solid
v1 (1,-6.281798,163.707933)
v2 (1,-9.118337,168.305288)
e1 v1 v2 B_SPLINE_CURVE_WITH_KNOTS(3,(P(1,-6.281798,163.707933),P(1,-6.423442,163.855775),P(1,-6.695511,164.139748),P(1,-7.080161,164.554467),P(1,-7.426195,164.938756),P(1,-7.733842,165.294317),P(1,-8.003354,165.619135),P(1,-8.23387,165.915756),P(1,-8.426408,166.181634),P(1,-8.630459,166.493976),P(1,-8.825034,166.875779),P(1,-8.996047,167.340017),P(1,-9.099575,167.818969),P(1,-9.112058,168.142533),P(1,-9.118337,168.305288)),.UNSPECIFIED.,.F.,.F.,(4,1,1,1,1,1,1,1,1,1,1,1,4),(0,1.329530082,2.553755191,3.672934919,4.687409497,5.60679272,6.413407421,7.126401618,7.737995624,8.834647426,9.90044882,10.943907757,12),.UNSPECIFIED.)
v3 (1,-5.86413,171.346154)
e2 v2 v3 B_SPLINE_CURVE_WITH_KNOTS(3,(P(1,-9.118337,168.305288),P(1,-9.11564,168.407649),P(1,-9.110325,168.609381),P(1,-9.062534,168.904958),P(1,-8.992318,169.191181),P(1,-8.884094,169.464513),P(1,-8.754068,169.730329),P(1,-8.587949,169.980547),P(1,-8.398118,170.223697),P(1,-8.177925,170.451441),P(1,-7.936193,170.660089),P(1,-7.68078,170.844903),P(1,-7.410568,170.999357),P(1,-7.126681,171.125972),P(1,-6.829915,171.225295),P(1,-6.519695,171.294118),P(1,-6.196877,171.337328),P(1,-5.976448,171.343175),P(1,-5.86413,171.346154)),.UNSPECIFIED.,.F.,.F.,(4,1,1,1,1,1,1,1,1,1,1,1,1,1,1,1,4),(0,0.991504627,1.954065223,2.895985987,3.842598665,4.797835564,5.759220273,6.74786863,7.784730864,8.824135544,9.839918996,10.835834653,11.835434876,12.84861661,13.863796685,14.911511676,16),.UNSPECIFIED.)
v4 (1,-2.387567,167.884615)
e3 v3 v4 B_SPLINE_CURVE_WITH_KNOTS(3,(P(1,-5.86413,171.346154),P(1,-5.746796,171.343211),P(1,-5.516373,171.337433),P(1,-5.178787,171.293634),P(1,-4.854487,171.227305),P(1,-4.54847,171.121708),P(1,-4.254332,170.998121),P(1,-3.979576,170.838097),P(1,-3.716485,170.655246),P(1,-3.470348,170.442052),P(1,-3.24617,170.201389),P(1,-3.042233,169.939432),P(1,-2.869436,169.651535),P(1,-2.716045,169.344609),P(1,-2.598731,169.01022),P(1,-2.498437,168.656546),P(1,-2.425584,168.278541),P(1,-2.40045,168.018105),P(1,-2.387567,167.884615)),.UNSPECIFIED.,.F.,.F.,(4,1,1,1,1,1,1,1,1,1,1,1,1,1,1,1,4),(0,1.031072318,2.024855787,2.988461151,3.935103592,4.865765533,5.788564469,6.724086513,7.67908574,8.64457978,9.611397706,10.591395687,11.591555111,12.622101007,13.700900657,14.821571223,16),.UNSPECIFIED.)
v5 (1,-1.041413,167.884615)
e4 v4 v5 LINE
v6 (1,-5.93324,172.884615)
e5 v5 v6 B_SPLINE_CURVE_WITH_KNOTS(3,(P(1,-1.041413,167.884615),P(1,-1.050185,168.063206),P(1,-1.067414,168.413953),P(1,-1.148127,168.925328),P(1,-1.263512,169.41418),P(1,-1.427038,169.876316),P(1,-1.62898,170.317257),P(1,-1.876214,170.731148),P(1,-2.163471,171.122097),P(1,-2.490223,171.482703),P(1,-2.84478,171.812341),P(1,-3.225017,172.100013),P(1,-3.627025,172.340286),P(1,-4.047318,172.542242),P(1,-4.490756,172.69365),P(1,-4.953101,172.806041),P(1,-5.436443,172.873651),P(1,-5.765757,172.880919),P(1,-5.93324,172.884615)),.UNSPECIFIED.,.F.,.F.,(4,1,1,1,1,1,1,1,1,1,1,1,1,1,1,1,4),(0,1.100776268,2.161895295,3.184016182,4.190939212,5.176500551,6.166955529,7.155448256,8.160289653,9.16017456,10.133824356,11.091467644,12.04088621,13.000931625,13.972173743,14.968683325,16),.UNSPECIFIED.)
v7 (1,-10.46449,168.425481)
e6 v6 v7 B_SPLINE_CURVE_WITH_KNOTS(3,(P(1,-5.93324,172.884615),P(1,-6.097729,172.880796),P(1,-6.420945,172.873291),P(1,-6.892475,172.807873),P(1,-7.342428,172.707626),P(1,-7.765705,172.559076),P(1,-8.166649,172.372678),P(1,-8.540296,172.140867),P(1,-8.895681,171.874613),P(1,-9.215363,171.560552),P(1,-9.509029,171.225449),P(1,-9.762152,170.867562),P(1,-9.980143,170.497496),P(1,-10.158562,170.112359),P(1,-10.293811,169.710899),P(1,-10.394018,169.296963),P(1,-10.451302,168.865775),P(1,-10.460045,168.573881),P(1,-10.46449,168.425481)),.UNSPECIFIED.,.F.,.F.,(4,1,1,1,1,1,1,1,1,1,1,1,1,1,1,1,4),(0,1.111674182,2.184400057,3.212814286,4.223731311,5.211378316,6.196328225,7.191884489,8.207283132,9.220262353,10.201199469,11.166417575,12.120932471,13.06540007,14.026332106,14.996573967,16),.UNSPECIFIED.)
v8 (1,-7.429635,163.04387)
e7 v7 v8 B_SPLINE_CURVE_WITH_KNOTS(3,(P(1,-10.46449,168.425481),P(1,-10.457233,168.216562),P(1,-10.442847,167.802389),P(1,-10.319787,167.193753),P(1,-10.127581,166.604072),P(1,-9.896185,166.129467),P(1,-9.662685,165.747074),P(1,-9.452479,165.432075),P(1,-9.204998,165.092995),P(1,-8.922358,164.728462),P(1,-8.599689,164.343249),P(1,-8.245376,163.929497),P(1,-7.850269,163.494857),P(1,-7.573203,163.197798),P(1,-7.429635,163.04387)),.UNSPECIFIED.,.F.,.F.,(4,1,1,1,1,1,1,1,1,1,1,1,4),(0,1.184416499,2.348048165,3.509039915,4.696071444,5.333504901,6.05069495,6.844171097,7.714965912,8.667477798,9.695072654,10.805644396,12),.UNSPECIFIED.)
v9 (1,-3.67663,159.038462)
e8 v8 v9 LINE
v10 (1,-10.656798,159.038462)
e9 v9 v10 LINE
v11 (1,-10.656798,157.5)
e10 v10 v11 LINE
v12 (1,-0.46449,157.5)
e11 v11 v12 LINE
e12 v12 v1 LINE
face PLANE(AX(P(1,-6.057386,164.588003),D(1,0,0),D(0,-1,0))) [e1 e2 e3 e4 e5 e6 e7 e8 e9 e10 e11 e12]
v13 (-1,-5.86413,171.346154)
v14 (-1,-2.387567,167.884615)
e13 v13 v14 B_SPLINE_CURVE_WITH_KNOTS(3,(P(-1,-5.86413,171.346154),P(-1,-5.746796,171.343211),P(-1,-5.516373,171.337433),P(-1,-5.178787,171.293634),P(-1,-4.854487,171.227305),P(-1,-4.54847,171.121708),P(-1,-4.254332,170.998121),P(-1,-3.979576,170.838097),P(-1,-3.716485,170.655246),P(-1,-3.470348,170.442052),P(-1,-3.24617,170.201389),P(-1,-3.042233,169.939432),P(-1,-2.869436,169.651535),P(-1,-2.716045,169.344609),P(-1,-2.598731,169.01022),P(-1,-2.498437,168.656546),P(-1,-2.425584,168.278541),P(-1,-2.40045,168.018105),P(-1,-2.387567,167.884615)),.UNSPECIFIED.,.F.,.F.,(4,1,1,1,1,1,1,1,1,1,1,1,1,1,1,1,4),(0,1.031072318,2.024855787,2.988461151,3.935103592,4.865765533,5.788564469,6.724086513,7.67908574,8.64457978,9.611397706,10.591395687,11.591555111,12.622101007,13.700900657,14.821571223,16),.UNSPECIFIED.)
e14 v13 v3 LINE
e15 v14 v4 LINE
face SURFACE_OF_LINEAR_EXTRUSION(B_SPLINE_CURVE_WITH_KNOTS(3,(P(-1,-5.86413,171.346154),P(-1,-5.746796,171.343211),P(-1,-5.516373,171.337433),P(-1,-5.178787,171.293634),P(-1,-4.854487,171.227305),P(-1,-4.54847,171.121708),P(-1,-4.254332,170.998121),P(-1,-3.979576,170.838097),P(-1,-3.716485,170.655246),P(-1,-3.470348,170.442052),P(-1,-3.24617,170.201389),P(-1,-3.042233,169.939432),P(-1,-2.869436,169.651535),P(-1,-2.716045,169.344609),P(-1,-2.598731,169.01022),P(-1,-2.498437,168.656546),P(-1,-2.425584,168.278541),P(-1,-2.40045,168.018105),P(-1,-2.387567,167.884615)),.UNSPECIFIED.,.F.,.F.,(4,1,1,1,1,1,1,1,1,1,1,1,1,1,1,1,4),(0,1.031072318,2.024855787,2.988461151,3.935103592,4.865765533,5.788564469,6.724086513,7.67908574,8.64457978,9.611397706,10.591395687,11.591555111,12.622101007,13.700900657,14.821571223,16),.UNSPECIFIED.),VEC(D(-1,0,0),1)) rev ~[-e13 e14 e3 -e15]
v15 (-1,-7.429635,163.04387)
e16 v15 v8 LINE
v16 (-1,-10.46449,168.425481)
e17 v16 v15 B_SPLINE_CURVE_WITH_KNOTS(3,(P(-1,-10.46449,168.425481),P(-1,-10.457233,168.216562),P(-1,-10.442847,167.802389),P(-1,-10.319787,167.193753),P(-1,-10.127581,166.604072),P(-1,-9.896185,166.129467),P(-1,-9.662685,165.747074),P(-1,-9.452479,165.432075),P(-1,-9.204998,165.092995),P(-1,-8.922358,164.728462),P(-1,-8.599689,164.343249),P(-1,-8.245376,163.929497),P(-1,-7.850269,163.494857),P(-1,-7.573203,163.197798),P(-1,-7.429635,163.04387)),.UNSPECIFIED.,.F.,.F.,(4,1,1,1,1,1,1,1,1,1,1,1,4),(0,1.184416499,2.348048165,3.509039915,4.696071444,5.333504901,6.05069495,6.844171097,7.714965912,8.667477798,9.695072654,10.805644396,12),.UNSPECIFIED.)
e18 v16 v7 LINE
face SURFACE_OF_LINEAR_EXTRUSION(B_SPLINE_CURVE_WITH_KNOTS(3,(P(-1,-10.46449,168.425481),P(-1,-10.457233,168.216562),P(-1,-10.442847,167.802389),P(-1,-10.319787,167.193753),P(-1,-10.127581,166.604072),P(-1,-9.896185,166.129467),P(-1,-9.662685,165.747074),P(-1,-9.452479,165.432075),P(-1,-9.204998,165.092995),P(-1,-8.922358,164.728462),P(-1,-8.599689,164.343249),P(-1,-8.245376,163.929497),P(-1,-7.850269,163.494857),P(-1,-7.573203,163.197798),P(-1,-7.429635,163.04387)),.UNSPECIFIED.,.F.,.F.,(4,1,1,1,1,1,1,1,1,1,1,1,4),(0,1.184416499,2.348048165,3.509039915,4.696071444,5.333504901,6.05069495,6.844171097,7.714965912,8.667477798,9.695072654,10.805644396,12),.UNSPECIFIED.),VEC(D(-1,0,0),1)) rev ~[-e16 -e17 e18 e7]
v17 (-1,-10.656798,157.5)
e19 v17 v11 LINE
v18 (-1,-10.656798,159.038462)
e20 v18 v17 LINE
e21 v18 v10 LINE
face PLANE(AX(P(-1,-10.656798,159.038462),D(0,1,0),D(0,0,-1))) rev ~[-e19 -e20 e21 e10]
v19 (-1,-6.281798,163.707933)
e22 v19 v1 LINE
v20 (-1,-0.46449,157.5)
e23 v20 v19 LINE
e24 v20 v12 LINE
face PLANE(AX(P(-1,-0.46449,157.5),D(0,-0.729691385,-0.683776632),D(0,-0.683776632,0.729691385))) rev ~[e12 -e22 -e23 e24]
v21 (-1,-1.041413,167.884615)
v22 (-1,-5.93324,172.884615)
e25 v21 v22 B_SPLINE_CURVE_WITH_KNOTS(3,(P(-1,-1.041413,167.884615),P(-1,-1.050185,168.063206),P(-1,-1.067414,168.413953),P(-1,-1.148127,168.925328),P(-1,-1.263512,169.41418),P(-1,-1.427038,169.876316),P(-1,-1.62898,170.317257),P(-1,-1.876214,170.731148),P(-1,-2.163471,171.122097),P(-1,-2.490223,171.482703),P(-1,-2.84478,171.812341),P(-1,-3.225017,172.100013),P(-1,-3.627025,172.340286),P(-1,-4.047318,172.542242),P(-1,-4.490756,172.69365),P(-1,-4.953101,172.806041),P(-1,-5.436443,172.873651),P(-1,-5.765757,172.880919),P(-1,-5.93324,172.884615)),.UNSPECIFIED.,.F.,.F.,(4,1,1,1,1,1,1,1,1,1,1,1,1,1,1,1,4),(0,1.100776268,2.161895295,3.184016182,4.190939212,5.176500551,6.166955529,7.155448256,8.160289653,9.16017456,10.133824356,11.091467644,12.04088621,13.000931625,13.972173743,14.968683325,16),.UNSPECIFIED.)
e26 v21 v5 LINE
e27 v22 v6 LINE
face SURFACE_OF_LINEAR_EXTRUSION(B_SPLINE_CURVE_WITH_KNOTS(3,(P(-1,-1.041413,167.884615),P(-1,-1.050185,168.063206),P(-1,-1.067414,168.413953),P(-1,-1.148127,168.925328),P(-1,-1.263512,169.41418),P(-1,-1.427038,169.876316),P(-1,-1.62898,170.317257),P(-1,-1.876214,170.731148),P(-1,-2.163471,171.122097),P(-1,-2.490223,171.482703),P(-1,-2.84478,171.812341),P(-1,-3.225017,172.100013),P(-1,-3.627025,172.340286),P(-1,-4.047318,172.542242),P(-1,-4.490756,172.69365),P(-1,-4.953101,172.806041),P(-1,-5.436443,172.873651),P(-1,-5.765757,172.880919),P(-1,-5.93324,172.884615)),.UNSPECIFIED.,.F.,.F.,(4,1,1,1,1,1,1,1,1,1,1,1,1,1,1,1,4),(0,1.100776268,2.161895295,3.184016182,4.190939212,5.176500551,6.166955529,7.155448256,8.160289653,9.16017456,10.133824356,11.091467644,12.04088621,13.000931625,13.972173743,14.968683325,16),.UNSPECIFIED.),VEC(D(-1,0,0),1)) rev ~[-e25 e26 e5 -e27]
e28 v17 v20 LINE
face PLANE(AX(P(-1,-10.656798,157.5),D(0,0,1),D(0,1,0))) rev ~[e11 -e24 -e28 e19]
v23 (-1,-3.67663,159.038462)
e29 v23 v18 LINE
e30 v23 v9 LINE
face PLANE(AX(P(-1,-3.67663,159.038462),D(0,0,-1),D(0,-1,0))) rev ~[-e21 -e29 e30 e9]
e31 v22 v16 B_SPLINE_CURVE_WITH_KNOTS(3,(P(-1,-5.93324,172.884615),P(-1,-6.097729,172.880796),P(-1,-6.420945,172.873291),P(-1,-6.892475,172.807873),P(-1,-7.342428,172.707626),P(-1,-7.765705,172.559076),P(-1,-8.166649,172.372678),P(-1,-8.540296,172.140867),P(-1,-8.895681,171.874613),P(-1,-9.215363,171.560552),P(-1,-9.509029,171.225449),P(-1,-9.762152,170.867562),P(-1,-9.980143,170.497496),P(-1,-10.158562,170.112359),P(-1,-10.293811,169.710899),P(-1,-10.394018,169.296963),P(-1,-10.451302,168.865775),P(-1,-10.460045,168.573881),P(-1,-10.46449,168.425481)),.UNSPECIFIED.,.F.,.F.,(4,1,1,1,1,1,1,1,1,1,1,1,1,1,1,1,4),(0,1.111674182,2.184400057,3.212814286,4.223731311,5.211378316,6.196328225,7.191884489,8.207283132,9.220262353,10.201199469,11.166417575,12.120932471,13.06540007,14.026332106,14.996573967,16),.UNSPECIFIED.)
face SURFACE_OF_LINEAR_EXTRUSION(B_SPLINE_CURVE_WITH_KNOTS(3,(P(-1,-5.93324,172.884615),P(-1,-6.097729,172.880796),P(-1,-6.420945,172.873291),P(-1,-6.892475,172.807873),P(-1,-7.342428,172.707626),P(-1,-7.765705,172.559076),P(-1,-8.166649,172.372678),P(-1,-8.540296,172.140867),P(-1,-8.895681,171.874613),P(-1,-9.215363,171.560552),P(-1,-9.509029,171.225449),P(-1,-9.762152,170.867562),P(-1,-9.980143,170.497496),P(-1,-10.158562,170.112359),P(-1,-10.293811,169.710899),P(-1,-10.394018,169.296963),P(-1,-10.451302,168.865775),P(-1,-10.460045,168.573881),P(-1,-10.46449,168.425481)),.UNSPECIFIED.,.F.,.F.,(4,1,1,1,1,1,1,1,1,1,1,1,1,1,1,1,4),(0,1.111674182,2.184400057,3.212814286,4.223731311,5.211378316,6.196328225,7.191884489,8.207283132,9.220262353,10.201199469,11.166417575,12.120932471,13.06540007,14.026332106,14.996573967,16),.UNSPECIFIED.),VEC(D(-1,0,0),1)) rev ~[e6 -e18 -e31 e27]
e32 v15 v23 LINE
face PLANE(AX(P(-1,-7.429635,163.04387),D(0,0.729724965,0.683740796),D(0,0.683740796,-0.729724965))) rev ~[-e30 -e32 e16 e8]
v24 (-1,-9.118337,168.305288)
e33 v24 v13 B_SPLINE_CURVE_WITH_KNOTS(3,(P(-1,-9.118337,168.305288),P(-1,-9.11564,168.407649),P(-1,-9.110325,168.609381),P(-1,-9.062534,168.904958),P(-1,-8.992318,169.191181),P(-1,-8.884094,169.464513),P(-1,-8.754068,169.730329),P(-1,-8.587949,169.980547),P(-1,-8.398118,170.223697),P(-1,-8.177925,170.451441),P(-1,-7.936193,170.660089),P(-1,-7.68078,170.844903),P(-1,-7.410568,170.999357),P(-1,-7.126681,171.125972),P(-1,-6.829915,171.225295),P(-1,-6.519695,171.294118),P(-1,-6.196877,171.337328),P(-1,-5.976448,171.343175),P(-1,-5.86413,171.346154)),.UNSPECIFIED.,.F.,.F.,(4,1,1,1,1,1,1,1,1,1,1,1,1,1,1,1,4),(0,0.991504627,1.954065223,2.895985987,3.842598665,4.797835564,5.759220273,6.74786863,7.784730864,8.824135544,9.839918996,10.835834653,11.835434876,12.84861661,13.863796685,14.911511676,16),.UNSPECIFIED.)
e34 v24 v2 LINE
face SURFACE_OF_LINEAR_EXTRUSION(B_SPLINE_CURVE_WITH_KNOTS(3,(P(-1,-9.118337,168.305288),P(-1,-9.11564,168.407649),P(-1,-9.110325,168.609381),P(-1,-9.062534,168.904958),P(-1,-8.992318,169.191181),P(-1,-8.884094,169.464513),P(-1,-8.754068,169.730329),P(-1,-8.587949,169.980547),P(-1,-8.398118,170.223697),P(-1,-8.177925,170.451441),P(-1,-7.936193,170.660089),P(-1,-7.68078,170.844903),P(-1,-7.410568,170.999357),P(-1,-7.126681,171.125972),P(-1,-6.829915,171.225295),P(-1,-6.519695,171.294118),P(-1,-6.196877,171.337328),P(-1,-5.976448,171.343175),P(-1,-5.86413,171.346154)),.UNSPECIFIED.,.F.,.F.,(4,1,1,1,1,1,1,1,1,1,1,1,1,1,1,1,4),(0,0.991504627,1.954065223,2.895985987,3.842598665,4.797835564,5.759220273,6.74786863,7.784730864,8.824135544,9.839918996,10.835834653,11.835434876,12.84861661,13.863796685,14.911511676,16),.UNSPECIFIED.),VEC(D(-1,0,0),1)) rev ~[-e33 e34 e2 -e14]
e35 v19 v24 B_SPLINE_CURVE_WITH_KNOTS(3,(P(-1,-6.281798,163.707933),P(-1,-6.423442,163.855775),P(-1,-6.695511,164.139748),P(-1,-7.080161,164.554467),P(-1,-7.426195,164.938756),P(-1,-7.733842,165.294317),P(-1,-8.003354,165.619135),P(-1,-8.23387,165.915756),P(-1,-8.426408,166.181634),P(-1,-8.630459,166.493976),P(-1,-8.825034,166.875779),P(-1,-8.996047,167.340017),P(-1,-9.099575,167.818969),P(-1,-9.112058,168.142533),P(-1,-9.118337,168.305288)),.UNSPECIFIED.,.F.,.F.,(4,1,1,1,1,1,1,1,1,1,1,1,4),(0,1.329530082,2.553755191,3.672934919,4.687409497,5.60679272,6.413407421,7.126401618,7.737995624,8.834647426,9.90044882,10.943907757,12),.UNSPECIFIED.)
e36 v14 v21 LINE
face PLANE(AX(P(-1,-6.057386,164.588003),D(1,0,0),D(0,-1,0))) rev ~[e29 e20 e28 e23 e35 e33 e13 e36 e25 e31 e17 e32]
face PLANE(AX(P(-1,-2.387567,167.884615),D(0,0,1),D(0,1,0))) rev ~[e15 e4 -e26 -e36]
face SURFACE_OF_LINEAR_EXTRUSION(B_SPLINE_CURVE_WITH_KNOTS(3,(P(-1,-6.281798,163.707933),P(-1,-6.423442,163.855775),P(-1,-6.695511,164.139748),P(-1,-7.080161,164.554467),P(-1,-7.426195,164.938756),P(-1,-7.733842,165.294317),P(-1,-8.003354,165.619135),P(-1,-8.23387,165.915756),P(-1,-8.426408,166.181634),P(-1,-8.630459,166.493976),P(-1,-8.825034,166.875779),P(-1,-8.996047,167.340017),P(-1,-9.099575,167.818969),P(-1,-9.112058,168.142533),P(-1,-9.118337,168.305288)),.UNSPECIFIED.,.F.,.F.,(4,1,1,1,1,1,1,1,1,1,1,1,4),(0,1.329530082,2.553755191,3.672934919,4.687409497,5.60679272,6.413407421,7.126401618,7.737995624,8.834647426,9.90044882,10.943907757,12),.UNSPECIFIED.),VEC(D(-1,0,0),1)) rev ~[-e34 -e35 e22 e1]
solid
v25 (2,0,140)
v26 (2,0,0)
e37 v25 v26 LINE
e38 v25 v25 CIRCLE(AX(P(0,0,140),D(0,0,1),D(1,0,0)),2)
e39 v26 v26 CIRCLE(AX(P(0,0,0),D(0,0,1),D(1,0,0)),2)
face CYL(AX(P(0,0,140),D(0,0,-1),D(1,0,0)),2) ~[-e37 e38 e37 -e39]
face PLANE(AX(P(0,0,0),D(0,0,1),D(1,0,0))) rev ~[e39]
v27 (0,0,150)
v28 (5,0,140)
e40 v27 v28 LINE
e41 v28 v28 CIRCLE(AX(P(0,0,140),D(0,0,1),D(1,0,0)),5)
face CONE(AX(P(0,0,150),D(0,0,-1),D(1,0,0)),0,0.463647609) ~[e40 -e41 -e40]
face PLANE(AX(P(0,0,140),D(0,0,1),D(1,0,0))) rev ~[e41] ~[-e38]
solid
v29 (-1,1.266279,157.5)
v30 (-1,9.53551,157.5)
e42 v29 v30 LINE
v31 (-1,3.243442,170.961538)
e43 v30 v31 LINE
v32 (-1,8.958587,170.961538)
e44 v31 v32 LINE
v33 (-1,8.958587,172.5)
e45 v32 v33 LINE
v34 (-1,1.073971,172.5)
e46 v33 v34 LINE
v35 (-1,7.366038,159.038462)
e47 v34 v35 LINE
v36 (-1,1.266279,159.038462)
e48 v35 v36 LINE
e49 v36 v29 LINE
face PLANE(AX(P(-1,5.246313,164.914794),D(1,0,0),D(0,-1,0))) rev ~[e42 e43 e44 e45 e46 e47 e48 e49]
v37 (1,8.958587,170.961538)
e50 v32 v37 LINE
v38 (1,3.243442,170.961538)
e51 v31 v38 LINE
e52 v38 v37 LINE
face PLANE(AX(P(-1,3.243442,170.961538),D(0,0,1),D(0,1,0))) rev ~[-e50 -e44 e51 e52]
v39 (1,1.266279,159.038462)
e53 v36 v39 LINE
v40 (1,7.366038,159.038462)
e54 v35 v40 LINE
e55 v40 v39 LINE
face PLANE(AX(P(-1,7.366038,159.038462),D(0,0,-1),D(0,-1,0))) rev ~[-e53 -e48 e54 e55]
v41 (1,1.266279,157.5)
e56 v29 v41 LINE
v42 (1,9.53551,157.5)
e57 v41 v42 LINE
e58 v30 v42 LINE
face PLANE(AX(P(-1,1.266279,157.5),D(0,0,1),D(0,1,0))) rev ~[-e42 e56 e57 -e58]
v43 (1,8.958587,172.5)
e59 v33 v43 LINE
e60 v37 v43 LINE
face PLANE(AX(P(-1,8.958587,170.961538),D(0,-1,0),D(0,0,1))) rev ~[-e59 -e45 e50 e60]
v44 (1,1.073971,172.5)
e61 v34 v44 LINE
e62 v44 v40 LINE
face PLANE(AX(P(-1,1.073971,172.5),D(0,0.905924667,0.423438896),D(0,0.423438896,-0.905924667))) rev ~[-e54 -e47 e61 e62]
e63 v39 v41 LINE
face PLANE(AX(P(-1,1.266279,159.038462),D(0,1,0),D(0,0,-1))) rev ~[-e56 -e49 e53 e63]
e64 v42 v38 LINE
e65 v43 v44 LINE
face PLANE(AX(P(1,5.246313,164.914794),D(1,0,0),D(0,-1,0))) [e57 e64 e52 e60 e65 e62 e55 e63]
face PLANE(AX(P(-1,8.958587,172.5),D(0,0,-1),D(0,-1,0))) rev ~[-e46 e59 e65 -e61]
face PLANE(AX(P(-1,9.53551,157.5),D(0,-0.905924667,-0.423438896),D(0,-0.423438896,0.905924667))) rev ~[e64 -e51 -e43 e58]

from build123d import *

# Parameters (mm, degrees)
BOSS_EXTRUDE1_DEPTH        = 1
BOSS_EXTRUDE1_DEPTH_BACK   = 1
BOSS_EXTRUDE1_2_DEPTH      = 1
BOSS_EXTRUDE1_2_DEPTH_BACK = 1


with BuildPart() as part:
    # Sketch2 → Revolve1 (revolve)
    with BuildSketch(Plane(origin=(0, 0, 0), x_dir=(1, 0, 0), z_dir=(0, 1, 0))):
        Polygon((0, -150), (5, -140), (2, -140), (2, 0), (0, 0), align=None)
    revolve(axis=Axis((0, 0, -41.949952025), (0, 0, 1)))


with BuildPart() as body_2:
    # Sketch3 → Boss-Extrude1 (new, two sides: drawn at the far end of the back side and taken through both)
    with BuildSketch(Plane(origin=(0, 0, 0), x_dir=(0, -1, 0), z_dir=(1, 0, 0)).offset(-BOSS_EXTRUDE1_DEPTH_BACK)):
        Polygon((-8.958586521, -170.961538462), (-8.958586521, -172.5), (-1.073971137, -172.5), (-7.366038444, -159.038461538), (-1.266278829, -159.038461538), (-1.266278829, -157.5), (-9.535509598, -157.5), (-3.243442291, -170.961538462), align=None)
    extrude(amount=BOSS_EXTRUDE1_DEPTH + BOSS_EXTRUDE1_DEPTH_BACK)


with BuildPart() as body_3:
    # Sketch3 → Boss-Extrude1 2 (new, two sides: drawn at the far end of the back side and taken through both)
    with BuildSketch(Plane(origin=(0, 0, 0), x_dir=(0, -1, 0), z_dir=(1, 0, 0)).offset(-BOSS_EXTRUDE1_2_DEPTH_BACK)):
        with BuildLine():
            Line((2.387567325, -167.884615385), (1.041413479, -167.884615385))
            add(Edge.make_bspline(
                [(1.041413479, -167.884615385), (1.050185498, -168.063205784), (1.067413511, -168.413952575), (1.14812731, -168.925328289), (1.263511735, -169.414179653), (1.427038382, -169.876315664), (1.628979502, -170.317256926), (1.876213873, -170.731148249), (2.163470857, -171.122097454), (2.490223471, -171.482702577), (2.844780172, -171.812340745), (3.225016614, -172.100012522), (3.627024685, -172.340286171), (4.047317539, -172.542241714), (4.490755987, -172.693649809), (4.953101254, -172.806041475), (5.436443094, -172.873650782), (5.765757104, -172.880918932), (5.933240402, -172.884615385)],
                knots=[0, 0, 0, 0, 1.100776268, 2.161895295, 3.184016182, 4.190939212, 5.176500551, 6.166955529, 7.155448256, 8.160289653, 9.16017456, 10.133824356, 11.091467644, 12.04088621, 13.000931625, 13.972173743, 14.968683325, 16, 16, 16, 16], degree=3))
            add(Edge.make_bspline(
                [(5.933240402, -172.884615385), (6.097729437, -172.880796104), (6.420944515, -172.873291355), (6.892475118, -172.807873473), (7.3424284, -172.707626401), (7.765705045, -172.559076032), (8.166649061, -172.372677813), (8.540296096, -172.140867206), (8.895681325, -171.87461271), (9.21536306, -171.560552476), (9.509029299, -171.225449413), (9.762151841, -170.867562158), (9.980142966, -170.497495718), (10.158561893, -170.112359334), (10.293811374, -169.710898815), (10.394018278, -169.2969631), (10.451301959, -168.865775091), (10.460045253, -168.573881456), (10.464490402, -168.425480769)],
                knots=[0, 0, 0, 0, 1.111674182, 2.184400057, 3.212814286, 4.223731311, 5.211378316, 6.196328225, 7.191884489, 8.207283132, 9.220262353, 10.201199469, 11.166417575, 12.120932471, 13.06540007, 14.026332106, 14.996573967, 16, 16, 16, 16], degree=3))
            add(Edge.make_bspline(
                [(10.464490402, -168.425480769), (10.457233447, -168.216561568), (10.442846886, -167.802389402), (10.319786944, -167.193752958), (10.127581249, -166.604071894), (9.896184514, -166.129467281), (9.662685279, -165.747074226), (9.452479023, -165.43207523), (9.204998347, -165.092995253), (8.922357616, -164.728461871), (8.599689356, -164.343248958), (8.245376446, -163.929497135), (7.850268631, -163.494856958), (7.573203067, -163.197798463), (7.429634633, -163.043870192)],
                knots=[0, 0, 0, 0, 1.184416499, 2.348048165, 3.509039915, 4.696071444, 5.333504901, 6.05069495, 6.844171097, 7.714965912, 8.667477798, 9.695072654, 10.805644396, 12, 12, 12, 12], degree=3))
            Line((7.429634633, -163.043870192), (3.676629825, -159.038461538))
            Line((3.676629825, -159.038461538), (10.656798094, -159.038461538))
            Line((10.656798094, -159.038461538), (10.656798094, -157.5))
            Line((10.656798094, -157.5), (0.464490402, -157.5))
            Line((0.464490402, -157.5), (6.281798094, -163.707932692))
            add(Edge.make_bspline(
                [(6.281798094, -163.707932692), (6.423441922, -163.855774514), (6.695510728, -164.139748395), (7.080161273, -164.554467176), (7.426195028, -164.938755758), (7.733841533, -165.294317016), (8.003353921, -165.619135251), (8.233869872, -165.915755986), (8.426408224, -166.181633708), (8.630458754, -166.493975739), (8.825034475, -166.87577944), (8.996046625, -167.340016559), (9.099575053, -167.818969101), (9.112057685, -168.142533031), (9.118336556, -168.305288462)],
                knots=[0, 0, 0, 0, 1.329530082, 2.553755191, 3.672934919, 4.687409497, 5.60679272, 6.413407421, 7.126401618, 7.737995624, 8.834647426, 9.90044882, 10.943907757, 12, 12, 12, 12], degree=3))
            add(Edge.make_bspline(
                [(9.118336556, -168.305288462), (9.115639933, -168.407648622), (9.110325407, -168.609380842), (9.06253371, -168.904957531), (8.992318222, -169.191181234), (8.884094464, -169.464512999), (8.754067603, -169.730328736), (8.5879487, -169.980546816), (8.398118417, -170.223696572), (8.1779246, -170.451440602), (7.936192702, -170.660089498), (7.68078048, -170.844903048), (7.410567913, -170.999357413), (7.126681095, -171.125972124), (6.829914955, -171.225295262), (6.519694576, -171.294117725), (6.196877375, -171.337328376), (5.976448106, -171.343174826), (5.864129825, -171.346153846)],
                knots=[0, 0, 0, 0, 0.991504627, 1.954065223, 2.895985987, 3.842598665, 4.797835564, 5.759220273, 6.74786863, 7.784730864, 8.824135544, 9.839918996, 10.835834653, 11.835434876, 12.84861661, 13.863796685, 14.911511676, 16, 16, 16, 16], degree=3))
            add(Edge.make_bspline(
                [(5.864129825, -171.346153846), (5.746796292, -171.343211269), (5.516372606, -171.337432534), (5.178786616, -171.293634499), (4.854486528, -171.227304609), (4.548469717, -171.121707967), (4.254331796, -170.998120893), (3.97957637, -170.838097372), (3.716485215, -170.655245751), (3.47034786, -170.442052376), (3.246169917, -170.201389167), (3.042233236, -169.939431517), (2.869435664, -169.651535448), (2.716045003, -169.344609108), (2.59873143, -169.010219964), (2.498436733, -168.656545911), (2.42558412, -168.278540852), (2.400450063, -168.018104774), (2.387567325, -167.884615385)],
                knots=[0, 0, 0, 0, 1.031072318, 2.024855787, 2.988461151, 3.935103592, 4.865765533, 5.788564469, 6.724086513, 7.67908574, 8.64457978, 9.611397706, 10.591395687, 11.591555111, 12.622101007, 13.700900657, 14.821571223, 16, 16, 16, 16], degree=3))
        make_face()
    extrude(amount=BOSS_EXTRUDE1_2_DEPTH + BOSS_EXTRUDE1_2_DEPTH_BACK)


solid = Compound([part.part, body_2.part, body_3.part])
